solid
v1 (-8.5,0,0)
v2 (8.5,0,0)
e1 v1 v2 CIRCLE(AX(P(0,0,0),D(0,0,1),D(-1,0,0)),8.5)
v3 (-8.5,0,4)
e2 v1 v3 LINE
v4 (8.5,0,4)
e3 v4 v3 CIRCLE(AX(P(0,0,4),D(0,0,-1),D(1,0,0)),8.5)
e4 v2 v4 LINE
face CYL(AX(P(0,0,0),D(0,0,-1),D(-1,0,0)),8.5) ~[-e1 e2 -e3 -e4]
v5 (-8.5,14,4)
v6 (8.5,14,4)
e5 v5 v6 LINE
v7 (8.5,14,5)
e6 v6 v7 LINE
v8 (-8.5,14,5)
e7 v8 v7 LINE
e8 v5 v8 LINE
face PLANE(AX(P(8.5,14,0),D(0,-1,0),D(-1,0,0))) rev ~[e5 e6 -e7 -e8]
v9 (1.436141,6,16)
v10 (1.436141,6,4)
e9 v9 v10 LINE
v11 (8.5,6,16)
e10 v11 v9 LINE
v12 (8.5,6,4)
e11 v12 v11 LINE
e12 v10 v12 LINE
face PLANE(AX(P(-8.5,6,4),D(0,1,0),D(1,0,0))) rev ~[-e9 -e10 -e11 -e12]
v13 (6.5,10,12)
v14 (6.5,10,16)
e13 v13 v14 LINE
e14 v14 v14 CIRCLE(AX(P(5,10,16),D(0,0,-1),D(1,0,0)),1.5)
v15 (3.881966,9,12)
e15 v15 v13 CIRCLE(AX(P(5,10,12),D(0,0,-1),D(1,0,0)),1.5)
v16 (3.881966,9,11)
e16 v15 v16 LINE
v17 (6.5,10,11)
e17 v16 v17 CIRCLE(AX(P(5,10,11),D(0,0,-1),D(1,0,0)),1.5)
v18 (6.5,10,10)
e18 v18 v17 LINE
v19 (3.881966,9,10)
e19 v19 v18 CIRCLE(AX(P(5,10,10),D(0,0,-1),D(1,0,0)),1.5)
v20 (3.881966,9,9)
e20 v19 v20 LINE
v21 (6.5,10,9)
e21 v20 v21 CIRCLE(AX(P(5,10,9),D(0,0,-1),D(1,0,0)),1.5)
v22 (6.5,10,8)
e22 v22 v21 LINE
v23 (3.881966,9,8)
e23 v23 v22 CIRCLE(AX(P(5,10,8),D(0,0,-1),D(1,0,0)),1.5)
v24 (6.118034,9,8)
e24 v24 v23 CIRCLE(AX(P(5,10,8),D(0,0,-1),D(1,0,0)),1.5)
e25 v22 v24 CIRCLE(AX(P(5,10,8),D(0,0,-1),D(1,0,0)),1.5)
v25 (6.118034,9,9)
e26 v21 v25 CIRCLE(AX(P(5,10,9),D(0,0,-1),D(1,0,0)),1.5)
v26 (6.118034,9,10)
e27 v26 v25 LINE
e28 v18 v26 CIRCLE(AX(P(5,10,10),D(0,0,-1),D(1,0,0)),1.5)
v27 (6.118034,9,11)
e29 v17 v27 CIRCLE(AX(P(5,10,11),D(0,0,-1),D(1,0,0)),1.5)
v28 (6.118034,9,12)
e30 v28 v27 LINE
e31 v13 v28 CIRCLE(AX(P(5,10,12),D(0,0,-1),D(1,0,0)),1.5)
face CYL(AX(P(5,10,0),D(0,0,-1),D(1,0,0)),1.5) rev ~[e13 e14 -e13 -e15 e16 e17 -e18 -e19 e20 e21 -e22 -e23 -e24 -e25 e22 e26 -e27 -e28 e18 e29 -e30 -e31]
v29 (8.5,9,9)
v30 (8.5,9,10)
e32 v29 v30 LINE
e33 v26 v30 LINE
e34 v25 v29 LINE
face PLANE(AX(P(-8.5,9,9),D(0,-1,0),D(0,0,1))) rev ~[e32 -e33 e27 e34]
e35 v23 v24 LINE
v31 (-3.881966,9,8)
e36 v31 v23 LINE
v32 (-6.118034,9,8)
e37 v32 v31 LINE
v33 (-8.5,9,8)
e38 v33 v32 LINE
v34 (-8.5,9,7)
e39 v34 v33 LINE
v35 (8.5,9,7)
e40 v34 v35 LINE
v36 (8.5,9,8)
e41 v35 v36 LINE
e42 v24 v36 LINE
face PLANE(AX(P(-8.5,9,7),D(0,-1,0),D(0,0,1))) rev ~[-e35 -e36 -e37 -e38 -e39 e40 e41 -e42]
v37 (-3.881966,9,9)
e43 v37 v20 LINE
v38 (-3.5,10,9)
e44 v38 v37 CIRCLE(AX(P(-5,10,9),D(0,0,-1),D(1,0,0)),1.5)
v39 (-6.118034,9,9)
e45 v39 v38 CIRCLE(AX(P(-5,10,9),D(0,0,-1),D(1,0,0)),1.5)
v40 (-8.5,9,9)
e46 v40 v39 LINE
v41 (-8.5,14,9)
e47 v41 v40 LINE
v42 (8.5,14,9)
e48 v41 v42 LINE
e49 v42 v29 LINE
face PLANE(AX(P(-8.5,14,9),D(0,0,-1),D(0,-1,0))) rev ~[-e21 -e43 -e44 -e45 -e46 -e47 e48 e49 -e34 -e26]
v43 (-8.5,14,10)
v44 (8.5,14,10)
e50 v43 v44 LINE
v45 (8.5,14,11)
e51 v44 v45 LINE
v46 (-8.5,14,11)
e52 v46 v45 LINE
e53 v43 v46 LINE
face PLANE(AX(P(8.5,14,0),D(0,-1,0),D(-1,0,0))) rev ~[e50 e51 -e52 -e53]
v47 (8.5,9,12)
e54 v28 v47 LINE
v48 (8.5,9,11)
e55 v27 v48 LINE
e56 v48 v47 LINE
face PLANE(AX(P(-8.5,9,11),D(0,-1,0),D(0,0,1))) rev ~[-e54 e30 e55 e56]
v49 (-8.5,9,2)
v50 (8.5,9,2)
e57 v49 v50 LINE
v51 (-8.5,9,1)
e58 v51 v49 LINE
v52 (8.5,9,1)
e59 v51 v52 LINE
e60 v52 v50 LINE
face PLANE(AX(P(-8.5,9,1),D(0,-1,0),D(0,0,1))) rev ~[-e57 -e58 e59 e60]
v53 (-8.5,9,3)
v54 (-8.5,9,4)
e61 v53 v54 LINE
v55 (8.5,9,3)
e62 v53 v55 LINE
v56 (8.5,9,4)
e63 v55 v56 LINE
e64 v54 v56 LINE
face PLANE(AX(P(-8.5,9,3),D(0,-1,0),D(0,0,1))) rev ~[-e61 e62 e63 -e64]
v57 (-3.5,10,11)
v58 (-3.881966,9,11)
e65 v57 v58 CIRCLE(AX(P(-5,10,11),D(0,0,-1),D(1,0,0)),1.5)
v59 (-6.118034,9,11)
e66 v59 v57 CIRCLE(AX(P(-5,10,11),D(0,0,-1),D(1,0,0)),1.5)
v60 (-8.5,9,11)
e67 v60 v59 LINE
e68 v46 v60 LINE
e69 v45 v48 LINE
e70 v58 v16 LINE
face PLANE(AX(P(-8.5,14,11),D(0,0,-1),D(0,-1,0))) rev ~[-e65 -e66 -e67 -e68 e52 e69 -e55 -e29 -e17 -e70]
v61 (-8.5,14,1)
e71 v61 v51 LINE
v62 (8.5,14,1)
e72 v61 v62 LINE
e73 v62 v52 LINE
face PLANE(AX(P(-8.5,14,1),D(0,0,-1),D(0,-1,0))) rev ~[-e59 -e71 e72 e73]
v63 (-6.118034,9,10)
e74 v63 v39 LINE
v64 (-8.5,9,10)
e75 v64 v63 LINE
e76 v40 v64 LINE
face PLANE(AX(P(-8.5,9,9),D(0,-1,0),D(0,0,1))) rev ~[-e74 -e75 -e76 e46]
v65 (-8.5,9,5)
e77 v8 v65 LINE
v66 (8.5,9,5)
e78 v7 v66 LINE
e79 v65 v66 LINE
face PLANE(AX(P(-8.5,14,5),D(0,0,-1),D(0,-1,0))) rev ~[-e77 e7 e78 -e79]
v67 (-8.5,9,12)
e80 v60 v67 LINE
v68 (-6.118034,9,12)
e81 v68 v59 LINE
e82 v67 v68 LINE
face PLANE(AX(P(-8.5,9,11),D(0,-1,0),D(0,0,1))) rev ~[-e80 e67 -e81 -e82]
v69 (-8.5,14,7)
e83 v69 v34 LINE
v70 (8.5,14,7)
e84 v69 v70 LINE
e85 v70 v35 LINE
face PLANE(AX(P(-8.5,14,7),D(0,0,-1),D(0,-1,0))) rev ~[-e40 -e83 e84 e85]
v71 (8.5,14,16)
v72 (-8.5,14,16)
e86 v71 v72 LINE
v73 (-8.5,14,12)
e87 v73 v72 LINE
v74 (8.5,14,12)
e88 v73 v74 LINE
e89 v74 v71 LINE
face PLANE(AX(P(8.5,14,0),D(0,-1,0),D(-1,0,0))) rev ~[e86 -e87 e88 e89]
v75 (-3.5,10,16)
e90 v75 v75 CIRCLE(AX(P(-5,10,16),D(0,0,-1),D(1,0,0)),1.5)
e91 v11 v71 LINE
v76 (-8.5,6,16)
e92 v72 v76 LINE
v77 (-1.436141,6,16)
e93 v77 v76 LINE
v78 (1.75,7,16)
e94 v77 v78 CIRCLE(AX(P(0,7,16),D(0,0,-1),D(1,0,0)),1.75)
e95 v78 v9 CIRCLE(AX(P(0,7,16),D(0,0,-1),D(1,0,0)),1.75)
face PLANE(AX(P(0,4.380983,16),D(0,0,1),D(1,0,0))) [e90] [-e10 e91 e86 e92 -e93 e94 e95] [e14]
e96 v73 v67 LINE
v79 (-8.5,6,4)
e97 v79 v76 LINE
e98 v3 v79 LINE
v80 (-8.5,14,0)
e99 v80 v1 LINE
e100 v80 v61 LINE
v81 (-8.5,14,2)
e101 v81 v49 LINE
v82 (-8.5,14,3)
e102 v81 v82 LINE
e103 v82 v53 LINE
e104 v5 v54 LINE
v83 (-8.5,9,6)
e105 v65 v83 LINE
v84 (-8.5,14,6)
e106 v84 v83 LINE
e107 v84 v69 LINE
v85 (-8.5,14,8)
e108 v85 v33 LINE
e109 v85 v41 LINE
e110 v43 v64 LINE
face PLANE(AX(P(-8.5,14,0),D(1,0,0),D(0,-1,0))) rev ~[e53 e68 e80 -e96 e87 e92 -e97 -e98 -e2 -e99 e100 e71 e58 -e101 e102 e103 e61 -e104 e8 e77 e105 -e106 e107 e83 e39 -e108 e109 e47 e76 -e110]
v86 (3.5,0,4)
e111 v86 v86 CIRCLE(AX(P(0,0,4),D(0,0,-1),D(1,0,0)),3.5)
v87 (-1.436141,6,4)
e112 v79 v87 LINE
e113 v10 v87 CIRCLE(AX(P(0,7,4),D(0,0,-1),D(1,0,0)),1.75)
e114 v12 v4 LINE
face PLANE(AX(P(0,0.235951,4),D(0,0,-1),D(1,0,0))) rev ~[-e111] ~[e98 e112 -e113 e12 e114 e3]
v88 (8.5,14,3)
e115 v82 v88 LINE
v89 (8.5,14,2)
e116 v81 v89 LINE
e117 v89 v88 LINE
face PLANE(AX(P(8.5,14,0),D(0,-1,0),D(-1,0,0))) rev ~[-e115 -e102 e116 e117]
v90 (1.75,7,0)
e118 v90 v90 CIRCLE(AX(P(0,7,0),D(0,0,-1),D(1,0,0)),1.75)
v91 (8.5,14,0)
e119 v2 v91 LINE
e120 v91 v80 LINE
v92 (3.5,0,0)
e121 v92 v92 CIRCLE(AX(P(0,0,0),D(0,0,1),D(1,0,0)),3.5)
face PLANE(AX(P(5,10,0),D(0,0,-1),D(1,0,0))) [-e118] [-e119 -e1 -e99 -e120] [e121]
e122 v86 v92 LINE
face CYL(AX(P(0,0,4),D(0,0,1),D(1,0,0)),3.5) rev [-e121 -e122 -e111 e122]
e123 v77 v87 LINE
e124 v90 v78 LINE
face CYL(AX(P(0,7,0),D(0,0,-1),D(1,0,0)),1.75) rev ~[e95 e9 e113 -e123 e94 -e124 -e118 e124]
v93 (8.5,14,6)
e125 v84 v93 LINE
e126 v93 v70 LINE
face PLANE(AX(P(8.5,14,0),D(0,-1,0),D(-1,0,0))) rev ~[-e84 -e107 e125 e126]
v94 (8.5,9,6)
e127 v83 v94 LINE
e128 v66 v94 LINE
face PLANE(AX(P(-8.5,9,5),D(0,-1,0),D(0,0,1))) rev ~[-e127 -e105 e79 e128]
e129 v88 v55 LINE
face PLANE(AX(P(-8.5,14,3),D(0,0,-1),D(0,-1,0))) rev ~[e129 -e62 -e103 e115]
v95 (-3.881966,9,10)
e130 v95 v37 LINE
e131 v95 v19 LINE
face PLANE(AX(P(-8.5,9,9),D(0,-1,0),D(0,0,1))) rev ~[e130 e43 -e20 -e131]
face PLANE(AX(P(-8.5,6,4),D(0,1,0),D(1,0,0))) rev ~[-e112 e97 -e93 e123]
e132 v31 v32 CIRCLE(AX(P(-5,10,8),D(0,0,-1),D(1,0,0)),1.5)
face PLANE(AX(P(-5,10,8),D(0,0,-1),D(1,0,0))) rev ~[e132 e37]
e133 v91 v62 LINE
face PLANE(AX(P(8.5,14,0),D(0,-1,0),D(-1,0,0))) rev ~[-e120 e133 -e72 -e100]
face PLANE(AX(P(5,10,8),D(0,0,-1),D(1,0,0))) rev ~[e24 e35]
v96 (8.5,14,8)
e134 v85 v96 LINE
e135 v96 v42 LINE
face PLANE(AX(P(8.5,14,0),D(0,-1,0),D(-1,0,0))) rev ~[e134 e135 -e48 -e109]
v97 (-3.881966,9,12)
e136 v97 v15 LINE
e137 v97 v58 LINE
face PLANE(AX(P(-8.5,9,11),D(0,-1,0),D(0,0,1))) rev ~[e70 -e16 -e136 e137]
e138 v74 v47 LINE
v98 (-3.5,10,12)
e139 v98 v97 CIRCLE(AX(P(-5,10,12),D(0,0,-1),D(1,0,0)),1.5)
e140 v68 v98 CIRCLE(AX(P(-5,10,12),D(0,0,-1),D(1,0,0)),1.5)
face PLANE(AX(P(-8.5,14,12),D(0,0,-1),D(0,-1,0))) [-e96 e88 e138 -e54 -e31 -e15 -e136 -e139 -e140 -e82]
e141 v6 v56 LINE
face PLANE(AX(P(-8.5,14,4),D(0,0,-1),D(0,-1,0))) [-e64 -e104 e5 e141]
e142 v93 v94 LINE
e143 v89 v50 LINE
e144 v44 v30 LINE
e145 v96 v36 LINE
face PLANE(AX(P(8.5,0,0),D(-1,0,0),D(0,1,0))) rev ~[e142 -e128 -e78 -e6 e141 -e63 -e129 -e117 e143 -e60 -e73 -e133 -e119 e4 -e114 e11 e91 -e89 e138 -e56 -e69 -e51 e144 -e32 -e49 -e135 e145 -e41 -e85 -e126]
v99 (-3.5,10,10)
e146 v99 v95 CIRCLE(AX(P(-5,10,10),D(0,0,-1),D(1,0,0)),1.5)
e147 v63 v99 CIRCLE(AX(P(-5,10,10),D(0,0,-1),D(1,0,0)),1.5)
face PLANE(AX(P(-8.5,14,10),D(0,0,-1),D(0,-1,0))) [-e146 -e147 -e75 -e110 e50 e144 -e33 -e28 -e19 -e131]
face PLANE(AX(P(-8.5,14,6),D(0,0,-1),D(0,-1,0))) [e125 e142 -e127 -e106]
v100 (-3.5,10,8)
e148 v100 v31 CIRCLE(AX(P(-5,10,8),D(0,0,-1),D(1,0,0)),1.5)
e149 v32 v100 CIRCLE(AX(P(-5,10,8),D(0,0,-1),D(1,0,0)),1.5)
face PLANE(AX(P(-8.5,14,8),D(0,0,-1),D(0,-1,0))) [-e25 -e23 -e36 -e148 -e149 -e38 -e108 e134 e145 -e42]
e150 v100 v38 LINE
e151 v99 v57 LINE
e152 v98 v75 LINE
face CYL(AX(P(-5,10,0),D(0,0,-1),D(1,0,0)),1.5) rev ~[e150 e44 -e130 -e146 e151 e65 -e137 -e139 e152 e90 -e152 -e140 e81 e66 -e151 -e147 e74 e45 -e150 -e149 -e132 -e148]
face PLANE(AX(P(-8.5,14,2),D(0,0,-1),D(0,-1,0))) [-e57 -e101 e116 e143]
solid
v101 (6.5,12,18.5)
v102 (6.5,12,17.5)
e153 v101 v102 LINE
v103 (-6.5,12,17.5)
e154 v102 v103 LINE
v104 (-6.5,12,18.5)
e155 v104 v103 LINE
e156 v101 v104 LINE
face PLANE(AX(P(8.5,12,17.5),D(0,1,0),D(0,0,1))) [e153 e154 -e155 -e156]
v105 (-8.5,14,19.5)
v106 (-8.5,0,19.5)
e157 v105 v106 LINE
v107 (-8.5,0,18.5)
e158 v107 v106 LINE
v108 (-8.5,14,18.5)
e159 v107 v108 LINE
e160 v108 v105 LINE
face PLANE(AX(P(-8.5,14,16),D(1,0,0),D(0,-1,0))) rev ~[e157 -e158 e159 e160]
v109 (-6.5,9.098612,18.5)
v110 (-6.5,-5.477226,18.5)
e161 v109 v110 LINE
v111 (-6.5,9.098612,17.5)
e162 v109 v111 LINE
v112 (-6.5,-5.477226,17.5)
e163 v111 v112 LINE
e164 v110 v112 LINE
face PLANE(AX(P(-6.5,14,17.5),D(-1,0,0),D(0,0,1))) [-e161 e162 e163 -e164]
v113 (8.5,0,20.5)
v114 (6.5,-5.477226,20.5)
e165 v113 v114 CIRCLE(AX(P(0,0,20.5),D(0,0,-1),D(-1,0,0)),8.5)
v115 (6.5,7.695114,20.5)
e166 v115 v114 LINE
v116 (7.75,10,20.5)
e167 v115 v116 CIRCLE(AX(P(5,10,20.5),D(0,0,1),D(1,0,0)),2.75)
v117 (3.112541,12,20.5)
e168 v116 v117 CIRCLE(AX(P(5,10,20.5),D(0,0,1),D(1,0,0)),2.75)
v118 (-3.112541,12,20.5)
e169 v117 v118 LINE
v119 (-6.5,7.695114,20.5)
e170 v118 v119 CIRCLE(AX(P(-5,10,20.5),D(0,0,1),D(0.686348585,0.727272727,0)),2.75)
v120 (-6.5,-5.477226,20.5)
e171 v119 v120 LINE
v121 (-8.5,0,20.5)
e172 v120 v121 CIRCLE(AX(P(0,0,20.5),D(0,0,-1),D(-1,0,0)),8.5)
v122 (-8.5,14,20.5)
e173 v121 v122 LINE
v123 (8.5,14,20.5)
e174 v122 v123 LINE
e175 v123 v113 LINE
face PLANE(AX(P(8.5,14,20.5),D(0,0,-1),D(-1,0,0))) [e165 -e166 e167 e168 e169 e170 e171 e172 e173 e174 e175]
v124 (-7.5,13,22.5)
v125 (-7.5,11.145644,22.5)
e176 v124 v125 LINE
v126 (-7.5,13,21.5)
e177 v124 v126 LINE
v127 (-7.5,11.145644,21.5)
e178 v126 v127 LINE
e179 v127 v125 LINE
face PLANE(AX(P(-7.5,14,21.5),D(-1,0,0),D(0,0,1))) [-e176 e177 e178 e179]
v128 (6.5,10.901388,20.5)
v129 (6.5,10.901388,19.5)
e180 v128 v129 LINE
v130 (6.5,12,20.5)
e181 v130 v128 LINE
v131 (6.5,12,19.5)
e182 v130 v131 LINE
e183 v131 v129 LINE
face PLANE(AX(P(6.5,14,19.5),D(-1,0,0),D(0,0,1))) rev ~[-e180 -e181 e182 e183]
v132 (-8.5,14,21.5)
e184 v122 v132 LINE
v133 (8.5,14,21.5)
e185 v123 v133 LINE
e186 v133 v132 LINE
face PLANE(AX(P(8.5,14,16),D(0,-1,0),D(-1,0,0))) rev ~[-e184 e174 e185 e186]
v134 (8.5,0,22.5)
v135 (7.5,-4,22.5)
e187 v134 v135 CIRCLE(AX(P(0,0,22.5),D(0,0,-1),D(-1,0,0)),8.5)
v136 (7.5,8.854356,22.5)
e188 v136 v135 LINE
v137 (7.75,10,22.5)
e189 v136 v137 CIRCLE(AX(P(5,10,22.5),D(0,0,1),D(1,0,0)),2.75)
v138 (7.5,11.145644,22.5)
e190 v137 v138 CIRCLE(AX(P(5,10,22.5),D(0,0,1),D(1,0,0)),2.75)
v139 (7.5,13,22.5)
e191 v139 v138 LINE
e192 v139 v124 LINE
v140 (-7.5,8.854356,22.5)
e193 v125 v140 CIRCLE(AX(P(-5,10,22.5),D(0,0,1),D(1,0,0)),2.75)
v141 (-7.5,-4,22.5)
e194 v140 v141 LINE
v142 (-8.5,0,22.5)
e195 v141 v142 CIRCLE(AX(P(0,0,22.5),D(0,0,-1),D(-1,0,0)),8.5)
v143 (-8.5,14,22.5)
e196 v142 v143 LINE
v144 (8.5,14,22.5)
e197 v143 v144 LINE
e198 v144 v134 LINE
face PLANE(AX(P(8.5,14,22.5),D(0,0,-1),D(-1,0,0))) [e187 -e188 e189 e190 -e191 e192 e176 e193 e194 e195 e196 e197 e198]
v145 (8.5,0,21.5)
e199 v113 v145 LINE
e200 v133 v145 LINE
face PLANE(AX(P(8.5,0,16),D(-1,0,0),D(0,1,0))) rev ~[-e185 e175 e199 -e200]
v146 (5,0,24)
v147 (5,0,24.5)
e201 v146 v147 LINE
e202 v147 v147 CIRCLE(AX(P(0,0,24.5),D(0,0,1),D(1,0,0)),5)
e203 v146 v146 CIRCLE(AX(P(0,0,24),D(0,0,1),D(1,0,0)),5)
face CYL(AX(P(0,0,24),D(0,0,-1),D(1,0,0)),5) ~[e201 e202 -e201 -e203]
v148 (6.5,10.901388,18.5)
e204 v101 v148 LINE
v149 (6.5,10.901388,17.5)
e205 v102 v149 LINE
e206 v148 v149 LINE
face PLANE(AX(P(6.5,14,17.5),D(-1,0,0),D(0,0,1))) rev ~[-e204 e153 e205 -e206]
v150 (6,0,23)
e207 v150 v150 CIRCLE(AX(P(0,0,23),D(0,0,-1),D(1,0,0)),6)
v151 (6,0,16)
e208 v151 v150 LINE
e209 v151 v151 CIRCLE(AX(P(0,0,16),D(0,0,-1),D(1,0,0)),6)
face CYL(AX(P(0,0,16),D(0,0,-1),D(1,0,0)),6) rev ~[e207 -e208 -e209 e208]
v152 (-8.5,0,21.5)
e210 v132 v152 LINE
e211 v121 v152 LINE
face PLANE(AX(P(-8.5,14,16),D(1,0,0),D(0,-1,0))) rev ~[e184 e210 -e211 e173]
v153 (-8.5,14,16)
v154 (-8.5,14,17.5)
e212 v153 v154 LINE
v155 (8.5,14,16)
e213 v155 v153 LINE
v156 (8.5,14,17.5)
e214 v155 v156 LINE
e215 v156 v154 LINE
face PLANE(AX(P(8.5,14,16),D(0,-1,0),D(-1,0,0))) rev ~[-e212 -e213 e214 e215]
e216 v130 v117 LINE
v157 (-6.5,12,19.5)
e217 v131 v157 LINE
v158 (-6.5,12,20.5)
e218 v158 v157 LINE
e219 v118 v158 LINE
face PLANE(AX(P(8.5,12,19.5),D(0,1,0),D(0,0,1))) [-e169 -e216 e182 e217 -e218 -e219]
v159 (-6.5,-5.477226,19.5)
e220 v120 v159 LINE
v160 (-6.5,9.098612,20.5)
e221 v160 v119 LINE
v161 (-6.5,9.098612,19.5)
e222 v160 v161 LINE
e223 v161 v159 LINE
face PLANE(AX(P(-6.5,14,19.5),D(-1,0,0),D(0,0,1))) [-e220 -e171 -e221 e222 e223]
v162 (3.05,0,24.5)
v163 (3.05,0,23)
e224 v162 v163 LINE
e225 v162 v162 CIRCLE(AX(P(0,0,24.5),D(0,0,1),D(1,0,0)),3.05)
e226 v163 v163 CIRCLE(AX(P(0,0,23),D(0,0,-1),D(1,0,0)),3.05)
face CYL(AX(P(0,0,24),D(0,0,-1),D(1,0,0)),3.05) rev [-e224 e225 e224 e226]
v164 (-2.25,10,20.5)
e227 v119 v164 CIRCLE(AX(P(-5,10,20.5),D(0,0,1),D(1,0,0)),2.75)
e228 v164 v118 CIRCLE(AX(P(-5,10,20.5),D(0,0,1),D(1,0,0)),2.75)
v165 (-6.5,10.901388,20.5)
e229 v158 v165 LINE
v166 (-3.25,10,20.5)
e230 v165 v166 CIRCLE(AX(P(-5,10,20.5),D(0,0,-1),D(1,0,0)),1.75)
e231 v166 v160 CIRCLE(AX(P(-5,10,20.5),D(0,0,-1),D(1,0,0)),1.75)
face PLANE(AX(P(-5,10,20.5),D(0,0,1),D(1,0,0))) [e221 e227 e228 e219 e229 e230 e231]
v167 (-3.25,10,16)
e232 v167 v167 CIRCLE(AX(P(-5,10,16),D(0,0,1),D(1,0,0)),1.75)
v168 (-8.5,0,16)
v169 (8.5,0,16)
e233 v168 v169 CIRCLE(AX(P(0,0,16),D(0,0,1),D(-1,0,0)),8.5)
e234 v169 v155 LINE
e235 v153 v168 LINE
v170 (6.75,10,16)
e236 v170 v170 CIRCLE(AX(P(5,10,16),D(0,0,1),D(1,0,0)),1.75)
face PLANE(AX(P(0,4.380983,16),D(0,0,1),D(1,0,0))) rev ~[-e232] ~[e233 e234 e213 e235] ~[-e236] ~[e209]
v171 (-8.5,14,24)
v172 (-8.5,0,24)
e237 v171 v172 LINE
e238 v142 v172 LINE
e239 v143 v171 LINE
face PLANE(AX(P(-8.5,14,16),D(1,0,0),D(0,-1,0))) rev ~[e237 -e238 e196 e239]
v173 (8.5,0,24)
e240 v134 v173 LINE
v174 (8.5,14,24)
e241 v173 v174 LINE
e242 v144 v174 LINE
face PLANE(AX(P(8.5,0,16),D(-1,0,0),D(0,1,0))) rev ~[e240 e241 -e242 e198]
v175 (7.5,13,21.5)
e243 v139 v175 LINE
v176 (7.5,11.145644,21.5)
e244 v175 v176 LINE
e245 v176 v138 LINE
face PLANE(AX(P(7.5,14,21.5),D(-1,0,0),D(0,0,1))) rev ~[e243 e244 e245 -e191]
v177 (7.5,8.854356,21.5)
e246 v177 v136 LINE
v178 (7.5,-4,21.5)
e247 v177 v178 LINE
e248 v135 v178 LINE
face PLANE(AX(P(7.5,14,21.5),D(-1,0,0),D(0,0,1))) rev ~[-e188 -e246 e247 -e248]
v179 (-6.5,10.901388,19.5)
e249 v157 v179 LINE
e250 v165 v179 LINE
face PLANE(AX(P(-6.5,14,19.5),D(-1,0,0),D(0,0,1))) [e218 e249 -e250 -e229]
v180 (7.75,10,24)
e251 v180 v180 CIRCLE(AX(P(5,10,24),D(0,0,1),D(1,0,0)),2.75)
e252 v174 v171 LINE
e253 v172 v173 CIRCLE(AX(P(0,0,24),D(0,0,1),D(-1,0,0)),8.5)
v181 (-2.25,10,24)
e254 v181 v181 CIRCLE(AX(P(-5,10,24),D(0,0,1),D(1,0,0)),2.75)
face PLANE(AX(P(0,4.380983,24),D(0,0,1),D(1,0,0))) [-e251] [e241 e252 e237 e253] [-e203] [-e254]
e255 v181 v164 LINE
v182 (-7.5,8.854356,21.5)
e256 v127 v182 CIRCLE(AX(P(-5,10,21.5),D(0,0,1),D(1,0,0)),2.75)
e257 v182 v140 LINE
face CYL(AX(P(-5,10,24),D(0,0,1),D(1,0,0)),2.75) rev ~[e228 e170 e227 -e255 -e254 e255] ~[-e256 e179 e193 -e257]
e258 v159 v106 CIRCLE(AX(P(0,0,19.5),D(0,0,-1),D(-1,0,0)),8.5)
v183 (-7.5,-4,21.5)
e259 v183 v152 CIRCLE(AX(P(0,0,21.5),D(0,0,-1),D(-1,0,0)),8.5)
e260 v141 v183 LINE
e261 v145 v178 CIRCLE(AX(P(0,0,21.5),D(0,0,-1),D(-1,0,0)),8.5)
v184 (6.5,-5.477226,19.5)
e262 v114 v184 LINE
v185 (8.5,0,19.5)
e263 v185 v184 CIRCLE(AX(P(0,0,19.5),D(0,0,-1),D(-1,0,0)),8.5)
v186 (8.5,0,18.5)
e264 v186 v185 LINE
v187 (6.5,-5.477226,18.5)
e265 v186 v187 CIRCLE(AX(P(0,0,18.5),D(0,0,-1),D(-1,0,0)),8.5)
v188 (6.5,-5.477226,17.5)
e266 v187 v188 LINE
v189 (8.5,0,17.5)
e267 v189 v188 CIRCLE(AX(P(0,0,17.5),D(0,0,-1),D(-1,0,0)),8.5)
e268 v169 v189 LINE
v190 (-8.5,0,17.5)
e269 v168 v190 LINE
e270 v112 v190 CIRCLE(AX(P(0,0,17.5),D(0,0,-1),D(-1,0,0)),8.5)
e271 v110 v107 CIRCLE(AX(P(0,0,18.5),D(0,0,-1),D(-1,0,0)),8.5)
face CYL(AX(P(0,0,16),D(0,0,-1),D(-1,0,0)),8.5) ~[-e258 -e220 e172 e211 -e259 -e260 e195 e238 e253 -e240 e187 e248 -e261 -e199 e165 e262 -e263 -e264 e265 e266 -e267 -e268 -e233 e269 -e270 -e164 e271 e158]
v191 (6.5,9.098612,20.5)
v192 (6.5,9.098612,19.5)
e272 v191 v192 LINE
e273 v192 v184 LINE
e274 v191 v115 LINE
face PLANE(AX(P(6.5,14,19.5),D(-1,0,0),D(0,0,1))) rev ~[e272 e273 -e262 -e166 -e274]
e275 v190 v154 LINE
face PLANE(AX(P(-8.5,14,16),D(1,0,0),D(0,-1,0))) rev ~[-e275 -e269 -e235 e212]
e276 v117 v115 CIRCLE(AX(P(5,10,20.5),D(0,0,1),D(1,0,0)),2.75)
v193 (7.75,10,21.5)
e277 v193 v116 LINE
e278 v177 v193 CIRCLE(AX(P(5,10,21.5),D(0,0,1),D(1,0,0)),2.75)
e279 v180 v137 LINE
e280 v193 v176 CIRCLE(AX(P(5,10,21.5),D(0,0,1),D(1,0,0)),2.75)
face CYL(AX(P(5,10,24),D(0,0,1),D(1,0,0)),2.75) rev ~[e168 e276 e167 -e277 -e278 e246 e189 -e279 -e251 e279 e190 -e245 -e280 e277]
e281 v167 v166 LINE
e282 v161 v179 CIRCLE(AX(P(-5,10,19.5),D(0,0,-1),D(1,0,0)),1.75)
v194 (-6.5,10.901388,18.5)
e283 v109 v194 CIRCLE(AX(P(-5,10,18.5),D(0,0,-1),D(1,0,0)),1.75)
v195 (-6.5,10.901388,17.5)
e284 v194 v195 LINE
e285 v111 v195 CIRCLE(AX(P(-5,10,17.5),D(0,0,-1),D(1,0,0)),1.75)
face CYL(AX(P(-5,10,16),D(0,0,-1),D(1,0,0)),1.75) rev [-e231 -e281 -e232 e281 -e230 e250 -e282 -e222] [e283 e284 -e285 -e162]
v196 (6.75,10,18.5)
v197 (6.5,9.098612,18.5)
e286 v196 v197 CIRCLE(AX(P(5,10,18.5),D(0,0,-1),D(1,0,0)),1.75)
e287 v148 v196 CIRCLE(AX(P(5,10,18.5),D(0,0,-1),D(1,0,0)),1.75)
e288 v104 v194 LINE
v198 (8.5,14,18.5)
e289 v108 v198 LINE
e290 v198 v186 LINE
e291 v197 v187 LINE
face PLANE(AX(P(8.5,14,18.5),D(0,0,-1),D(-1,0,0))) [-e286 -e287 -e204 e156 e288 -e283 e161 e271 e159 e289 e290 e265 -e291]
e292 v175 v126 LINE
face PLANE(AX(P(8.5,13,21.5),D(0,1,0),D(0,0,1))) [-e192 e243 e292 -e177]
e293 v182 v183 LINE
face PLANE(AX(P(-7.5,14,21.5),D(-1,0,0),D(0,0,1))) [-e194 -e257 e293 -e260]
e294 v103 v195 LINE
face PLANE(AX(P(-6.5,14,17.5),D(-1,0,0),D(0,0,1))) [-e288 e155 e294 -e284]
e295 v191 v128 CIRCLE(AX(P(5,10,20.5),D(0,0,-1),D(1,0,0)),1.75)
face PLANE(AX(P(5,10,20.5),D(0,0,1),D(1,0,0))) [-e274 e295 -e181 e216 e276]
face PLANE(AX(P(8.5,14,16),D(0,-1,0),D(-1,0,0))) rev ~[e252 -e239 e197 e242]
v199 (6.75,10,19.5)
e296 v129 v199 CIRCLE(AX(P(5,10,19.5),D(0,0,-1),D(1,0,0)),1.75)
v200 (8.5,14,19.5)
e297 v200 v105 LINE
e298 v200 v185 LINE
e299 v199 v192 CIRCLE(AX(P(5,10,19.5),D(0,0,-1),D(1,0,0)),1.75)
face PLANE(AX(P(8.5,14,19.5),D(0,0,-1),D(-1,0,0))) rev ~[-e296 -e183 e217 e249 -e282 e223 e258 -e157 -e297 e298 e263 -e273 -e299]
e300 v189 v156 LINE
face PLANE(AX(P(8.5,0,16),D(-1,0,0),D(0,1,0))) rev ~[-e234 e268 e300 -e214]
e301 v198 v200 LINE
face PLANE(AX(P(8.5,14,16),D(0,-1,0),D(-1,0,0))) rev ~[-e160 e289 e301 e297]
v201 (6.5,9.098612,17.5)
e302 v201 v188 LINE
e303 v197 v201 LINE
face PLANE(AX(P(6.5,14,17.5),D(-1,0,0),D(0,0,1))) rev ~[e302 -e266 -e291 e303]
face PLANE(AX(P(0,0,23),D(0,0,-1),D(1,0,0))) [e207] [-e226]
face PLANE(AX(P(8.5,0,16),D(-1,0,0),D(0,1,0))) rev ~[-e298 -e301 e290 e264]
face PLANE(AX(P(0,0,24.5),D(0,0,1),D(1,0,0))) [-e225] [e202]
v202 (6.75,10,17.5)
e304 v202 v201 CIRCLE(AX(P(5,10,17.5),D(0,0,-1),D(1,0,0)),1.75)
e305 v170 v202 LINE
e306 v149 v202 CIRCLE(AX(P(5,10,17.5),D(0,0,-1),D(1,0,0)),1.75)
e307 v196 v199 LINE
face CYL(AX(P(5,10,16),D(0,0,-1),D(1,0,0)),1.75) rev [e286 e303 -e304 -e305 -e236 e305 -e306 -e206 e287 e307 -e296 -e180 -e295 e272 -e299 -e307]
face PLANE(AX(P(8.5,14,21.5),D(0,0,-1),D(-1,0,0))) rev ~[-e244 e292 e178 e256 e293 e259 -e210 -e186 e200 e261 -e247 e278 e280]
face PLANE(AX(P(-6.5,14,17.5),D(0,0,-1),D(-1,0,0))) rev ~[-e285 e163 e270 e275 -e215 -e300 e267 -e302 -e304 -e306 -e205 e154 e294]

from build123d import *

# Parameters (mm, degrees)
F1_DEPTH  = 16
F2_R      = 1.75
F2_R_2    = 1.5
F3_DEPTH  = 16.001
F5_R      = 3.5
F6_DEPTH  = 4.001
F8_DEPTH  = 13
F9_R      = 3.05
F9_R_2    = 1.75
F10_DEPTH = 8
F11_R     = 2.75
F12_DEPTH = 3.5
F13_R     = 6
F14_DEPTH = 7
F15_R     = 1.5
F16_DEPTH = 8
F17_W     = 5
F17_H     = 1
F18_DEPTH = 17.001
F19_W     = 2
F19_H     = 1
F19_W_2   = 1
F20_DEPTH = 22.501
F21_W     = 2
F21_H     = 1
F21_W_2   = 1
F22_DEPTH = 17.001
F23_R     = 5
F23_R_2   = 3.05
F24_DEPTH = 0.5


with BuildPart() as f1:
    # F0 (on Top) → F1 (new body)
    with BuildSketch(Plane.XY):
        with BuildLine():
            Line((-8.5, 14), (-8.5, 0))
            ThreePointArc((-8.5, 0), (0, -8.5), (8.5, 0))
            Line((8.5, 0), (8.5, 14))
            Line((8.5, 14), (-8.5, 14))
        make_face()
    extrude(amount=F1_DEPTH)

    # F2 (on face) → F3 (cut, through all)
    with BuildSketch(Plane(origin=(0, 0, 0), x_dir=(1, 0, 0), z_dir=(0, 0, -1))):
        with Locations((0, -7)):
            Circle(F2_R)
        with Locations((5, -10)):
            Circle(F2_R_2)
        with Locations((-5, -10)):
            Circle(F2_R_2)
    extrude(amount=-F3_DEPTH, mode=Mode.SUBTRACT)

    # F5 (on offset) → F6 (cut, through all)
    with BuildSketch(Plane(origin=(0, 0, 4), x_dir=(1, 0, 0), z_dir=(0, 0, -1))):
        Circle(F5_R)
    extrude(amount=F6_DEPTH, mode=Mode.SUBTRACT)

    # F7 (on offset) → F8 (cut)
    with BuildSketch(Plane(origin=(0, 0, 4), x_dir=(1, 0, 0), z_dir=(0, 0, -1))):
        with BuildLine():
            Line((8.5, -6), (8.5, 0))
            ThreePointArc((8.5, 0), (0, 8.5), (-8.5, 0))
            Line((-8.5, 0), (-8.5, -6))
            Line((-8.5, -6), (8.5, -6))
        make_face()
    extrude(amount=-F8_DEPTH, mode=Mode.SUBTRACT)

    # F15 (on face) → F16 (join)
    with BuildSketch(Plane(origin=(0, 0, 0), x_dir=(1, 0, 0), z_dir=(0, 0, -1))):
        with Locations((5, -10)):
            Circle(F15_R)
        with Locations((-5, -10)):
            Circle(F15_R)
    extrude(amount=-F16_DEPTH)

    # F17 (on face) → F18 (cut, through all)
    with BuildSketch(Plane(origin=(-8.5, 0, 0), x_dir=(0, -1, 0), z_dir=(-1, 0, 0))):
        with Locations((-11.5, 1.5)):
            Rectangle(F17_W, F17_H)
        with Locations((-11.5, 3.5)):
            Rectangle(F17_W, F17_H)
        with Locations((-11.5, 5.5)):
            Rectangle(F17_W, F17_H)
        with Locations((-11.5, 7.5)):
            Rectangle(F17_W, F17_H)
        with Locations((-11.5, 9.5)):
            Rectangle(F17_W, F17_H)
        with Locations((-11.5, 11.5)):
            Rectangle(F17_W, F17_H)
    extrude(amount=-F18_DEPTH, mode=Mode.SUBTRACT)


with BuildPart() as f10:
    # F9 (on face) → F10 (new body)
    with BuildSketch(Plane.XY.offset(16)):
        with BuildLine():
            Line((-8.5, 14), (-8.5, 0))
            ThreePointArc((-8.5, 0), (0, -8.5), (8.5, 0))
            Line((8.5, 0), (8.5, 14))
            Line((8.5, 14), (-8.5, 14))
        make_face()
        Circle(F9_R, mode=Mode.SUBTRACT)
        with Locations((-5, 10)):
            Circle(F9_R_2, mode=Mode.SUBTRACT)
        with Locations((5, 10)):
            Circle(F9_R_2, mode=Mode.SUBTRACT)
    extrude(amount=F10_DEPTH)

    # F11 (on face) → F12 (cut)
    with BuildSketch(Plane.XY.offset(24)):
        with Locations((-5, 10)):
            Circle(F11_R)
        with Locations((5, 10)):
            Circle(F11_R)
    extrude(amount=-F12_DEPTH, mode=Mode.SUBTRACT)

    # F13 (on face) → F14 (cut)
    with BuildSketch(Plane(origin=(0, 0, 16), x_dir=(1, 0, 0), z_dir=(0, 0, -1))):
        Circle(F13_R)
    extrude(amount=-F14_DEPTH, mode=Mode.SUBTRACT)

    # F19 (on face) → F20 (cut, through all)
    with BuildSketch(Plane(origin=(0, 14, 0), x_dir=(-1, 0, 0), z_dir=(0, 1, 0))):
        with Locations((-7.5, 20)):
            Rectangle(F19_W, F19_H)
        with Locations((-7.5, 18)):
            Rectangle(F19_W, F19_H)
        with Locations((-8, 22)):
            Rectangle(F19_W_2, F19_H)
        with Locations((7.5, 18)):
            Rectangle(F19_W, F19_H)
        with Locations((7.5, 20)):
            Rectangle(F19_W, F19_H)
        with Locations((8, 22)):
            Rectangle(F19_W_2, F19_H)
    extrude(amount=-F20_DEPTH, mode=Mode.SUBTRACT)

    # F21 (on face) → F22 (cut, through all)
    with BuildSketch(Plane.YZ.offset(8.5)):
        with Locations((13, 18)):
            Rectangle(F21_W, F21_H)
        with Locations((13, 20)):
            Rectangle(F21_W, F21_H)
        with Locations((13.5, 22)):
            Rectangle(F21_W_2, F21_H)
    extrude(amount=-F22_DEPTH, mode=Mode.SUBTRACT)

    # F23 (on face) → F24 (join)
    with BuildSketch(Plane.XY.offset(24)):
        Circle(F23_R)
        Circle(F23_R_2, mode=Mode.SUBTRACT)
    extrude(amount=F24_DEPTH)


solid = Compound([f1.part, f10.part])
